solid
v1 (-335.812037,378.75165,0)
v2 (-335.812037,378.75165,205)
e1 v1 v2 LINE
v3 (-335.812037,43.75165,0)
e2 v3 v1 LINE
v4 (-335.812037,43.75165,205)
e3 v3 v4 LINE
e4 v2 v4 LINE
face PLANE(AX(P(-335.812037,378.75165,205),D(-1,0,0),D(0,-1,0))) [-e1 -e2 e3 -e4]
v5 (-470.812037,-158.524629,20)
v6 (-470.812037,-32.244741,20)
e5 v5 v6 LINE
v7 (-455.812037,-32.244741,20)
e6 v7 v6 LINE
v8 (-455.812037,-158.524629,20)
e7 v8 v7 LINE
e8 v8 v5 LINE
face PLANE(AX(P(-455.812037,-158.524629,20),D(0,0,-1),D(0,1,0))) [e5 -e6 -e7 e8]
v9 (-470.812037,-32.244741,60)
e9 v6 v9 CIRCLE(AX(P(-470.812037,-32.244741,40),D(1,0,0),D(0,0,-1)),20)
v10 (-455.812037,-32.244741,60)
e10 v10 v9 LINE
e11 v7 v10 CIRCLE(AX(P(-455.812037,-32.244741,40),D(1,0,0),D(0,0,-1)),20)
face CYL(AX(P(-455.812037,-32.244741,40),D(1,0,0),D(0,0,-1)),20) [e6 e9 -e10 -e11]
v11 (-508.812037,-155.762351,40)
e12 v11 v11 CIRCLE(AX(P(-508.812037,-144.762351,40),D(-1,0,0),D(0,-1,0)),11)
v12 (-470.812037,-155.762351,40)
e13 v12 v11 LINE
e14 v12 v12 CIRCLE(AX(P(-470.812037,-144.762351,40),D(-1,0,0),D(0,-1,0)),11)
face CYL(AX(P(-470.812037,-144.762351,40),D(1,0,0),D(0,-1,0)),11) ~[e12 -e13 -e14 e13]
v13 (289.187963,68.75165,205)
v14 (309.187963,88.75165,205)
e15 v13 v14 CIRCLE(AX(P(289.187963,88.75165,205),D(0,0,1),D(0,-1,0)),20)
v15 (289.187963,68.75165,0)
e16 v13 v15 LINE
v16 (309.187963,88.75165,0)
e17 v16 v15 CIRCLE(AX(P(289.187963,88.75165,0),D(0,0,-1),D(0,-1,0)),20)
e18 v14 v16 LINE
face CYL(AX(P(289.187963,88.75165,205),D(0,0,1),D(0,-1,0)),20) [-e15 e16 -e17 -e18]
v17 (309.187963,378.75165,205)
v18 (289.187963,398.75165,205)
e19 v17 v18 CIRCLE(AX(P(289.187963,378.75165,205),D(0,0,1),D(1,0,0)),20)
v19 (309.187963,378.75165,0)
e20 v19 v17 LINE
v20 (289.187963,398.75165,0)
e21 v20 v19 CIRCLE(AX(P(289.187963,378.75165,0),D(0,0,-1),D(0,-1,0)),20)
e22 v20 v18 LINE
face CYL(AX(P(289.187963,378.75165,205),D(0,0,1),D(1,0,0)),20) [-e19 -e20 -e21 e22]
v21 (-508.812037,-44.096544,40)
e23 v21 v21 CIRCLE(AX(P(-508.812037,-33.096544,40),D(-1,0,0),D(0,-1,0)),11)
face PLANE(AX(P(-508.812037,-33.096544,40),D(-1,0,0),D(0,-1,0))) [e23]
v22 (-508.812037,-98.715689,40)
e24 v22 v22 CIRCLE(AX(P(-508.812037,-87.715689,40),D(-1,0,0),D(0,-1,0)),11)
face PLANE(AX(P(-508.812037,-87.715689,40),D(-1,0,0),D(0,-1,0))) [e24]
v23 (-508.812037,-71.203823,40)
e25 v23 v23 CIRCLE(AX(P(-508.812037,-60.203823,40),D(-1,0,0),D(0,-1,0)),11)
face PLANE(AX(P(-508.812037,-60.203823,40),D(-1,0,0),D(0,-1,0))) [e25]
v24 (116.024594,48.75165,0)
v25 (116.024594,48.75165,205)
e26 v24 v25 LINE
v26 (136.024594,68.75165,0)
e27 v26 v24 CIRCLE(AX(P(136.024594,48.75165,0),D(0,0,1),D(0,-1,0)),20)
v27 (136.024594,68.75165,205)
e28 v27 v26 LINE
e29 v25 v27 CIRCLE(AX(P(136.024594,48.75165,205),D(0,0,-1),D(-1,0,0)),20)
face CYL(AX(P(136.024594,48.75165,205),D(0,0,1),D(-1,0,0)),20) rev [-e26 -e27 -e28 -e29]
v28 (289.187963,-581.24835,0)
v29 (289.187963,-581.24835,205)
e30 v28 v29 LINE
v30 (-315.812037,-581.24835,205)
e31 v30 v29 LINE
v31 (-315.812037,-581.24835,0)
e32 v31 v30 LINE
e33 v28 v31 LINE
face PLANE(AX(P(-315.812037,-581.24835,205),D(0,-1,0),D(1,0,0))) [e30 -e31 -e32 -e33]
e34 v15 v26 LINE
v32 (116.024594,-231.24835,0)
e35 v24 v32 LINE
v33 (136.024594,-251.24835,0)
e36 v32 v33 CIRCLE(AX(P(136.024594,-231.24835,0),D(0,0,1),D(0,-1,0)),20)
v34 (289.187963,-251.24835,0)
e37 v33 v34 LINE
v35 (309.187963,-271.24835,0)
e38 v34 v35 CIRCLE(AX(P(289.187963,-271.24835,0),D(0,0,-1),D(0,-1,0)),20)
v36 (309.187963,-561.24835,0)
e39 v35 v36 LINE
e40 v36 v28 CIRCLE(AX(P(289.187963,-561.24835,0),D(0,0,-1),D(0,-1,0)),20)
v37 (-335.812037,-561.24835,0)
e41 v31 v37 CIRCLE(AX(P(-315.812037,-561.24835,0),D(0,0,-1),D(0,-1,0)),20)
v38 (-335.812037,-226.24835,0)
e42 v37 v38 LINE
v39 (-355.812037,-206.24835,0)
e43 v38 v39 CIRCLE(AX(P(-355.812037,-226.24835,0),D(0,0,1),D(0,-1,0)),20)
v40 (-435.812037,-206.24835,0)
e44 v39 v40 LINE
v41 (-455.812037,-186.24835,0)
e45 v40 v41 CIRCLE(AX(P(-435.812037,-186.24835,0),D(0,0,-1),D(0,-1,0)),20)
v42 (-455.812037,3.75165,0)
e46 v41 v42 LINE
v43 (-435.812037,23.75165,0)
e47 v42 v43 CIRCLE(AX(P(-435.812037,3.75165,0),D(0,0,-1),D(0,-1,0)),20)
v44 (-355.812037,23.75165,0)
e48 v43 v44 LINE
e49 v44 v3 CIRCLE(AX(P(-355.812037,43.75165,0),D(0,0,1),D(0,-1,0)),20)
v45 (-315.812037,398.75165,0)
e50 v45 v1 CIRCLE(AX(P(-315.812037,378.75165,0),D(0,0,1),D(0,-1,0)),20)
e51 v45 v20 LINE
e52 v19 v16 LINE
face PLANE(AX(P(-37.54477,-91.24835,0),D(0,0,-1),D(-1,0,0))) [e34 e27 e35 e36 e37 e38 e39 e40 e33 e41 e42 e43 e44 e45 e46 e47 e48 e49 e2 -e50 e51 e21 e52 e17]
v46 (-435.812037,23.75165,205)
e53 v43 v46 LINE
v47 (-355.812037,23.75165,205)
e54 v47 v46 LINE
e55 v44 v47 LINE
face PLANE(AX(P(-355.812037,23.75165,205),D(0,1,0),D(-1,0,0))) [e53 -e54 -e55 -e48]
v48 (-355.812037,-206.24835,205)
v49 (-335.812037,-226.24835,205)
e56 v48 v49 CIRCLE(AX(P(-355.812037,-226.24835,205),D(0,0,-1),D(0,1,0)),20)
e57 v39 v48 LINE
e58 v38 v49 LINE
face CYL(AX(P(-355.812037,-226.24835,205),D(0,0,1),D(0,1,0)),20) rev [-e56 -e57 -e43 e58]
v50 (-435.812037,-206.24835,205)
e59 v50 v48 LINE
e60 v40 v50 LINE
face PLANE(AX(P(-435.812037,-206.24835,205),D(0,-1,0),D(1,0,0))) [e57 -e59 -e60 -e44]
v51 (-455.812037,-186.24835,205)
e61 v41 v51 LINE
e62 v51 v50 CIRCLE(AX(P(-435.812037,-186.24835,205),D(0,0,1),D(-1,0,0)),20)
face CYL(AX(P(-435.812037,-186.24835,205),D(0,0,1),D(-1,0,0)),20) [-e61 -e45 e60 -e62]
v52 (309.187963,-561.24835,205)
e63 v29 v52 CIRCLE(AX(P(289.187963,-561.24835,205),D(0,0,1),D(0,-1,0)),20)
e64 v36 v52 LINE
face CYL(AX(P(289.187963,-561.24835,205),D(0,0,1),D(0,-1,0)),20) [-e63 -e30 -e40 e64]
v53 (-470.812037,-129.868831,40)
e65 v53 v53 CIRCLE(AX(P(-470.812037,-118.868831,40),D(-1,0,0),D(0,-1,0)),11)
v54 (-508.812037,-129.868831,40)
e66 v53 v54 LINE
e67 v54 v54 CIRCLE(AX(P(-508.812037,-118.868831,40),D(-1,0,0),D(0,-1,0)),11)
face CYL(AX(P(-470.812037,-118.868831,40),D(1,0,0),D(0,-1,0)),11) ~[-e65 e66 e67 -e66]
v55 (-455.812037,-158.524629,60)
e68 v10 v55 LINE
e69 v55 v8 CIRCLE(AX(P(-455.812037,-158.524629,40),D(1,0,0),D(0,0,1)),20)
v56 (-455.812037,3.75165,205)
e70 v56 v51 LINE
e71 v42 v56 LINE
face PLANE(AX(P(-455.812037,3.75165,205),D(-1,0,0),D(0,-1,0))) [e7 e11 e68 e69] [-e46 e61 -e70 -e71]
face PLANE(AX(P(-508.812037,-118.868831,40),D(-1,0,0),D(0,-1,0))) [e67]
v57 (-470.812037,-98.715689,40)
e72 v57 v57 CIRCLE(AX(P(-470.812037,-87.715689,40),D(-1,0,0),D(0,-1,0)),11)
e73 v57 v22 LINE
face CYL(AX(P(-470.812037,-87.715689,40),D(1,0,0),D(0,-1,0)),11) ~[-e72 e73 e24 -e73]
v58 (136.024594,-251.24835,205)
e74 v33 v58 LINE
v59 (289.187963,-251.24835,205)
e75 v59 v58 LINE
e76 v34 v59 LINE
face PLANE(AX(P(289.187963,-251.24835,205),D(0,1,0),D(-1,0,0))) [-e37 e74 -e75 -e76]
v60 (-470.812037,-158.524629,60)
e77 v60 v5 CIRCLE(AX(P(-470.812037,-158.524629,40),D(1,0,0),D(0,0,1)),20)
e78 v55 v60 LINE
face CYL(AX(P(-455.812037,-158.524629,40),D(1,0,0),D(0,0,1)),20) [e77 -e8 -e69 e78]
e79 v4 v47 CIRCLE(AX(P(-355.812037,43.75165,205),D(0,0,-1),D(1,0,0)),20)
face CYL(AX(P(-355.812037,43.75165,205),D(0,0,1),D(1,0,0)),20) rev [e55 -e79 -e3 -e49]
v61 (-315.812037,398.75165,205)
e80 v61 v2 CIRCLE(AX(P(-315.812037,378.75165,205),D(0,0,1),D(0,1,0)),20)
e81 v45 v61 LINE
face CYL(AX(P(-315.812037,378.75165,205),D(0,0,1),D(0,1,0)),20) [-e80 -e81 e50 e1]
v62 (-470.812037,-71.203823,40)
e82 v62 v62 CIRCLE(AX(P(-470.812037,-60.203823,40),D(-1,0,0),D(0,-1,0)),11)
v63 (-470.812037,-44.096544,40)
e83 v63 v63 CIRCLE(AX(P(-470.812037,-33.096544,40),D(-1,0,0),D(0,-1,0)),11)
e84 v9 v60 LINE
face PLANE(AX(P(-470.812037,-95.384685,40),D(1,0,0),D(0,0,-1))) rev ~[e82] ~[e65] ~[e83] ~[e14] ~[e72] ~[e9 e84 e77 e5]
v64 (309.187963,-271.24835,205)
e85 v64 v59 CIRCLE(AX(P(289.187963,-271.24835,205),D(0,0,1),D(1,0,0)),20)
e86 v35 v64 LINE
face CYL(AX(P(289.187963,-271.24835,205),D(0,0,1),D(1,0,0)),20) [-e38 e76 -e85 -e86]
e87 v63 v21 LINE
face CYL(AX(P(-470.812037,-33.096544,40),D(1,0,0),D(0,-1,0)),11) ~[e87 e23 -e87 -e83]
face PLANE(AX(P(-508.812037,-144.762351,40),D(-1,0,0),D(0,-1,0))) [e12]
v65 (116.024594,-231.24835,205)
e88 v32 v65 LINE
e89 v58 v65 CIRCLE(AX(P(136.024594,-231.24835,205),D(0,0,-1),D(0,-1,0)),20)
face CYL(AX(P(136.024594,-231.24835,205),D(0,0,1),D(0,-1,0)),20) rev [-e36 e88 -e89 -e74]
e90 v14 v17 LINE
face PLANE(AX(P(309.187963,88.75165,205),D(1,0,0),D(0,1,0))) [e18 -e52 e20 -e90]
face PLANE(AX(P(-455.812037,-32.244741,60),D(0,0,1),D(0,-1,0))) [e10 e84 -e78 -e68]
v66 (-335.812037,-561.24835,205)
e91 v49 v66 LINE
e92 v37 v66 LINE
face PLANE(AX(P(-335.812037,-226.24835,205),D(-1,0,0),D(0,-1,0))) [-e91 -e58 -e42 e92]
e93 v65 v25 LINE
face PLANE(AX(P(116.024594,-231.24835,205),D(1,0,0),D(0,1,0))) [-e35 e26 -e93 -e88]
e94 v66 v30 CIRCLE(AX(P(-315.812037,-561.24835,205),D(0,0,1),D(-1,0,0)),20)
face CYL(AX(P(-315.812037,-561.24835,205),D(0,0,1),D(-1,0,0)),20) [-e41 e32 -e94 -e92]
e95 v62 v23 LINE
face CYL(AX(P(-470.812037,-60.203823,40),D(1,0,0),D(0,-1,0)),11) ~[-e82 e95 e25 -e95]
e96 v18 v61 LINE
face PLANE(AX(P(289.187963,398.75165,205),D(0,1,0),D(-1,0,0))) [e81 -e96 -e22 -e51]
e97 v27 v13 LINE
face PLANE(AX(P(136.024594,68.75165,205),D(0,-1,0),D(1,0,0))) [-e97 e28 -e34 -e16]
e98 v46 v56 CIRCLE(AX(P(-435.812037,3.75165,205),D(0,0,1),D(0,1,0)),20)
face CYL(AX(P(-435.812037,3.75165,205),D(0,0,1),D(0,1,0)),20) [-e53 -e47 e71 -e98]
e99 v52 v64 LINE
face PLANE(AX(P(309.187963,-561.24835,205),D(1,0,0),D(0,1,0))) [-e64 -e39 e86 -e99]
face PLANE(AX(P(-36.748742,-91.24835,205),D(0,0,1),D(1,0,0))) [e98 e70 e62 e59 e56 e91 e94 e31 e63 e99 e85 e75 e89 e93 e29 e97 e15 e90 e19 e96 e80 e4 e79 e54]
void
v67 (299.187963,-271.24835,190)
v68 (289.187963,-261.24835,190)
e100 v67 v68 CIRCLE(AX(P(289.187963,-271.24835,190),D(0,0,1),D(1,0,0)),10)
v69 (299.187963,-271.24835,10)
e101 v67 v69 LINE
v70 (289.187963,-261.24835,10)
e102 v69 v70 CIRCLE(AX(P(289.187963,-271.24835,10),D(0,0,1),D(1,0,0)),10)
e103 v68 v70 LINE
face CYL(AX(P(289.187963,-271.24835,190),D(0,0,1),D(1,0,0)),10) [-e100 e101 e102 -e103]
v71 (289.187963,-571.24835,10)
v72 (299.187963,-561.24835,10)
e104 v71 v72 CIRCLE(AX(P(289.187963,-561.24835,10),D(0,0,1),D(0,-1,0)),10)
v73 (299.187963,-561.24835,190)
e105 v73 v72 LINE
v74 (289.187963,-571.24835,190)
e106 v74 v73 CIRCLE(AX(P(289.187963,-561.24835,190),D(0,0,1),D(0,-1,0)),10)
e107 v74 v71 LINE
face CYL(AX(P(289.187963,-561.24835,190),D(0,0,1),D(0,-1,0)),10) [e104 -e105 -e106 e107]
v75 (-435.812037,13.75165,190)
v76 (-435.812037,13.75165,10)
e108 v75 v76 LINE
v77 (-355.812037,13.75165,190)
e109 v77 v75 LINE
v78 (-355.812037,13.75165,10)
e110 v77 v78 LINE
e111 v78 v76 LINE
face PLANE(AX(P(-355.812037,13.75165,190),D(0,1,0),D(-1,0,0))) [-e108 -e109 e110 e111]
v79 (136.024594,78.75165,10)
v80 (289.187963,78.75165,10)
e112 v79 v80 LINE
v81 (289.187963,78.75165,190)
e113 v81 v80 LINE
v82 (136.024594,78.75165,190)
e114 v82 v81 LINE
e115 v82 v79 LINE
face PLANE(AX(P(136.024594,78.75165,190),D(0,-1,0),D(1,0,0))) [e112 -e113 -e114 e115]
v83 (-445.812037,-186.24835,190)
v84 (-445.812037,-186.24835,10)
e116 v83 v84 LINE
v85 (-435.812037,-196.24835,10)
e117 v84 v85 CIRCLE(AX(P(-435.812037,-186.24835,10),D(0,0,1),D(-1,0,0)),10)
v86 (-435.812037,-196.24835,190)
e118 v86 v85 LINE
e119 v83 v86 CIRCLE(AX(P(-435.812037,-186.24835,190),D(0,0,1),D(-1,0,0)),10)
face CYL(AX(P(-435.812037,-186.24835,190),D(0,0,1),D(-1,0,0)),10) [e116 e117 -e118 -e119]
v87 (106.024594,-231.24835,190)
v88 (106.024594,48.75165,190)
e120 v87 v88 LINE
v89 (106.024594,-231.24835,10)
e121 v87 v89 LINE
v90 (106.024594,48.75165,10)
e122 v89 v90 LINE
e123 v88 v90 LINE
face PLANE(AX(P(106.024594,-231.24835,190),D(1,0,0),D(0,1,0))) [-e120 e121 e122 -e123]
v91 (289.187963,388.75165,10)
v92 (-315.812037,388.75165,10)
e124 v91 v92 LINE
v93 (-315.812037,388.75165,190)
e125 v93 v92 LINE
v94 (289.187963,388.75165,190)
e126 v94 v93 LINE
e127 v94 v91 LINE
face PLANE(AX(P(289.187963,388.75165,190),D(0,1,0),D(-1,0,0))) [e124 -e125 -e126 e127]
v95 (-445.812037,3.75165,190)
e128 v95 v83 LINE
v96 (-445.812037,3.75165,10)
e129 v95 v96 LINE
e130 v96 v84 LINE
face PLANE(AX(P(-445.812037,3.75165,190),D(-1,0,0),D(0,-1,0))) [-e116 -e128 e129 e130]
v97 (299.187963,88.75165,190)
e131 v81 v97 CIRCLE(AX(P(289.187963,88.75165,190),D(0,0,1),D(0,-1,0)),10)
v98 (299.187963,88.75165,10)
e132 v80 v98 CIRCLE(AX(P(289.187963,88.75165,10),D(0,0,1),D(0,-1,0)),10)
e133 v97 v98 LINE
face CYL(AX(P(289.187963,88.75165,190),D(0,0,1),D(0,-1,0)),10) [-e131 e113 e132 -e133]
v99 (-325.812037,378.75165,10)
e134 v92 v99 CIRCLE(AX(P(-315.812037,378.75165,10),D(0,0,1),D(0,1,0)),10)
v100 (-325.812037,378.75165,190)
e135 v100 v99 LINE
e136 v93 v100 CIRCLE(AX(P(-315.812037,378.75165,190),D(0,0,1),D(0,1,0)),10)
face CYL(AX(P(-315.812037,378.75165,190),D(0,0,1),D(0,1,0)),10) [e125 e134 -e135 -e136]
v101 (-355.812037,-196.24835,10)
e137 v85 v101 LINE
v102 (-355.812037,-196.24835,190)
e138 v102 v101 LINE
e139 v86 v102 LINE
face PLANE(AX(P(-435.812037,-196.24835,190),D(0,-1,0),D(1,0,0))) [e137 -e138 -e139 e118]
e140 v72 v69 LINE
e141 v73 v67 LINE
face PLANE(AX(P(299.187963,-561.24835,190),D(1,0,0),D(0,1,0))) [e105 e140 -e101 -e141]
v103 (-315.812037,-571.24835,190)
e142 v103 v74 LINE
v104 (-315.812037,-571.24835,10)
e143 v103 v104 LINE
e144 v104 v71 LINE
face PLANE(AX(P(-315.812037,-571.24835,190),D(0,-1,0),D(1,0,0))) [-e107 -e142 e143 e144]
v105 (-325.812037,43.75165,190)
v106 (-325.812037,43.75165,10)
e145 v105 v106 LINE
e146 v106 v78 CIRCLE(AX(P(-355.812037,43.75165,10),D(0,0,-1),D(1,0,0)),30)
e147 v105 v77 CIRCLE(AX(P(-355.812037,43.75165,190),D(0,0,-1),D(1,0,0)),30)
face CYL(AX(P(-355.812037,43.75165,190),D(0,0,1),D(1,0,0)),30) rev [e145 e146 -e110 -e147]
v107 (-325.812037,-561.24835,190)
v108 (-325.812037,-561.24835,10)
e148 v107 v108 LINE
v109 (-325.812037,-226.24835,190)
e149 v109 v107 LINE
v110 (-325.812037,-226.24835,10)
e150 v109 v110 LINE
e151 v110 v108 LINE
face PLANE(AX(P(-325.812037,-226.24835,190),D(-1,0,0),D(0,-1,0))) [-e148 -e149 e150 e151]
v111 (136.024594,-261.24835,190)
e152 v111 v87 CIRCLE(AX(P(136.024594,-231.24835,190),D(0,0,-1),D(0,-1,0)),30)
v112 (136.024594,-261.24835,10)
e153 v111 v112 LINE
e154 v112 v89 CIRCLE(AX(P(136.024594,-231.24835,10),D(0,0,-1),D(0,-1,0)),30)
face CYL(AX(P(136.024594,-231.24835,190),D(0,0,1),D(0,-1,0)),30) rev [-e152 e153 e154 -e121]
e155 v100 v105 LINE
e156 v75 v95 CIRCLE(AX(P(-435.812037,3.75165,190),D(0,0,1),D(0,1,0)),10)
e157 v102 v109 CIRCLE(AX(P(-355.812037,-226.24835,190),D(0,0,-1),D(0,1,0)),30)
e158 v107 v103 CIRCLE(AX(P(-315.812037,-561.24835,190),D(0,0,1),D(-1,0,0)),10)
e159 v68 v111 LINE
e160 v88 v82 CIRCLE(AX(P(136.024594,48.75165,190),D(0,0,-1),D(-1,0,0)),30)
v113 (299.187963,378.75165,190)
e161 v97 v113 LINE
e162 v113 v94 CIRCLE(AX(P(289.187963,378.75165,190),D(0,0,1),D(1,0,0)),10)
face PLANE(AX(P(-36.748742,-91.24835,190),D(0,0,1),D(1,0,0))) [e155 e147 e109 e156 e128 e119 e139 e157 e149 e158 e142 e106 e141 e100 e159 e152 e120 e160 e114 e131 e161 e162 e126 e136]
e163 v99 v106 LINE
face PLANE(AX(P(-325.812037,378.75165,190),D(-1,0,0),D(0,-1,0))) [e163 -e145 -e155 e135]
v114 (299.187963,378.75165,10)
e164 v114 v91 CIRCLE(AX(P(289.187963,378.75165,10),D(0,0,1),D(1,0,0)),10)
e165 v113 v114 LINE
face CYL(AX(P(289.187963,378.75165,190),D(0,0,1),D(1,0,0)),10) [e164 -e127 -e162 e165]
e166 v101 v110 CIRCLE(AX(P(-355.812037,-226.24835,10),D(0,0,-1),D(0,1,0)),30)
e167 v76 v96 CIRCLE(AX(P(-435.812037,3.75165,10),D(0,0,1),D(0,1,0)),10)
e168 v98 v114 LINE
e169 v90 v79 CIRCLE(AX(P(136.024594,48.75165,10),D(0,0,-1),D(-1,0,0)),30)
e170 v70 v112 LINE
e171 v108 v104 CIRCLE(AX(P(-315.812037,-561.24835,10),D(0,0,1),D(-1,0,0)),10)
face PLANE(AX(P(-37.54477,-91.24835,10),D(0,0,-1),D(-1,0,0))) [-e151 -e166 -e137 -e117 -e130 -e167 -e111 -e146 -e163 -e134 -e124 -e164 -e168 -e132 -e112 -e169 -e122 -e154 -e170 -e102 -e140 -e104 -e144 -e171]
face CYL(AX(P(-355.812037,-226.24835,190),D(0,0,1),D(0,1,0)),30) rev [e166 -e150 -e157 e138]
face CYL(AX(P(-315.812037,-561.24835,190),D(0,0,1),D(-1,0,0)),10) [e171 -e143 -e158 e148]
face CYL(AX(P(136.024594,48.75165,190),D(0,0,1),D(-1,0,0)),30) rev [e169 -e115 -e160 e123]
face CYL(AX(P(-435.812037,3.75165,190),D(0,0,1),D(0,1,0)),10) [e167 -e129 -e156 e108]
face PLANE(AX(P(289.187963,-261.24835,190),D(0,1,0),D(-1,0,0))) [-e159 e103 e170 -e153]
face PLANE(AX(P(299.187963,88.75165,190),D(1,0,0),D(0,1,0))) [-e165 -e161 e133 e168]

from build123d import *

# Parameters (mm, degrees)
BOSS_EXTRUDE1_DEPTH = 10
FILLET1_R           = 20
BOSS_EXTRUDE2_START = 180
BOSS_EXTRUDE2_DEPTH = 180
BOSS_EXTRUDE3_START = 15
BOSS_EXTRUDE3_DEPTH = 15
BOSS_EXTRUDE4_DEPTH = 15
BOSS_EXTRUDE5_START = 15
SKETCH4_3_R         = 11
BOSS_EXTRUDE5_DEPTH = 38


with BuildPart() as part:
    # Sketch1 → Boss-Extrude1 (new body)
    with BuildSketch(Plane.XY):
        Polygon((-335.812036678, 398.75165032), (309.187963322, 398.75165032), (309.187963322, 68.75165032), (116.024594022, 68.75165032), (116.024594022, -251.24834968), (309.187963322, -251.24834968), (309.187963322, -581.24834968), (-335.812036678, -581.24834968), (-335.812036678, -206.24834968), (-455.812036678, -206.24834968), (-455.812036678, 23.75165032), (-335.812036678, 23.75165032), align=None)
    extrude(amount=BOSS_EXTRUDE1_DEPTH)

    # Fillet1
    fillet1_edges = [part.edges().sort_by_distance(p)[0] for p in [
        (-335.812036678, -206.24834968, 5),
        (-455.812036678, -206.24834968, 5),
        (-455.812036678, 23.75165032, 5),
        (-335.812036678, 23.75165032, 5),
        (-335.812036678, 398.75165032, 5),
        (309.187963322, 398.75165032, 5),
        (309.187963322, 68.75165032, 5),
        (116.024594022, 68.75165032, 5),
        (116.024594022, -251.24834968, 5),
        (309.187963322, -251.24834968, 5),
        (309.187963322, -581.24834968, 5),
        (-335.812036678, -581.24834968, 5),
    ]]
    fillet(fillet1_edges, radius=FILLET1_R)

    # Sketch2 → Boss-Extrude2 (add)
    with BuildSketch(Plane.XY.offset(10).offset(BOSS_EXTRUDE2_START)):
        with BuildLine():
            Line((309.187963322, 88.75165032), (309.187963322, 378.75165032))
            ThreePointArc((309.187963322, 378.75165032), (303.330098945, 392.893785944), (289.187963322, 398.75165032))
            Line((289.187963322, 398.75165032), (-315.812036678, 398.75165032))
            ThreePointArc((-315.812036678, 398.75165032), (-329.954172302, 392.893785944), (-335.812036678, 378.75165032))
            Line((-335.812036678, 378.75165032), (-335.812036678, 43.75165032))
            ThreePointArc((-335.812036678, 43.75165032), (-341.669901055, 29.609514696), (-355.812036678, 23.75165032))
            Line((-355.812036678, 23.75165032), (-435.812036678, 23.75165032))
            ThreePointArc((-435.812036678, 23.75165032), (-449.954172302, 17.893785944), (-455.812036678, 3.75165032))
            Line((-455.812036678, 3.75165032), (-455.812036678, -186.24834968))
            ThreePointArc((-455.812036678, -186.24834968), (-449.954172302, -200.390485304), (-435.812036678, -206.24834968))
            Line((-435.812036678, -206.24834968), (-355.812036678, -206.24834968))
            ThreePointArc((-355.812036678, -206.24834968), (-341.669901055, -212.106214056), (-335.812036678, -226.24834968))
            Line((-335.812036678, -226.24834968), (-335.812036678, -561.24834968))
            ThreePointArc((-335.812036678, -561.24834968), (-329.954172302, -575.390485304), (-315.812036678, -581.24834968))
            Line((-315.812036678, -581.24834968), (289.187963322, -581.24834968))
            ThreePointArc((289.187963322, -581.24834968), (303.330098945, -575.390485304), (309.187963322, -561.24834968))
            Line((309.187963322, -561.24834968), (309.187963322, -271.24834968))
            ThreePointArc((309.187963322, -271.24834968), (303.330098945, -257.106214056), (289.187963322, -251.24834968))
            Line((289.187963322, -251.24834968), (136.024594022, -251.24834968))
            ThreePointArc((136.024594022, -251.24834968), (121.882458398, -245.390485304), (116.024594022, -231.24834968))
            Line((116.024594022, -231.24834968), (116.024594022, 48.75165032))
            ThreePointArc((116.024594022, 48.75165032), (121.882458398, 62.893785944), (136.024594022, 68.75165032))
            Line((136.024594022, 68.75165032), (289.187963322, 68.75165032))
            ThreePointArc((289.187963322, 68.75165032), (303.330098945, 74.609514696), (309.187963322, 88.75165032))
        make_face()
        with BuildLine():
            Line((299.187963322, 88.75165032), (299.187963322, 378.75165032))
            ThreePointArc((299.187963322, 378.75165032), (296.259031134, 385.822718132), (289.187963322, 388.75165032))
            Line((289.187963322, 388.75165032), (-315.812036678, 388.75165032))
            ThreePointArc((-315.812036678, 388.75165032), (-322.88310449, 385.822718132), (-325.812036678, 378.75165032))
            Line((-325.812036678, 378.75165032), (-325.812036678, 43.75165032))
            ThreePointArc((-325.812036678, 43.75165032), (-334.598833243, 22.538446884), (-355.812036678, 13.75165032))
            Line((-355.812036678, 13.75165032), (-435.812036678, 13.75165032))
            ThreePointArc((-435.812036678, 13.75165032), (-442.88310449, 10.822718132), (-445.812036678, 3.75165032))
            Line((-445.812036678, 3.75165032), (-445.812036678, -186.24834968))
            ThreePointArc((-445.812036678, -186.24834968), (-442.88310449, -193.319417492), (-435.812036678, -196.24834968))
            Line((-435.812036678, -196.24834968), (-355.812036678, -196.24834968))
            ThreePointArc((-355.812036678, -196.24834968), (-334.598833243, -205.035146245), (-325.812036678, -226.24834968))
            Line((-325.812036678, -226.24834968), (-325.812036678, -561.24834968))
            ThreePointArc((-325.812036678, -561.24834968), (-322.88310449, -568.319417492), (-315.812036678, -571.24834968))
            Line((-315.812036678, -571.24834968), (289.187963322, -571.24834968))
            ThreePointArc((289.187963322, -571.24834968), (296.259031134, -568.319417492), (299.187963322, -561.24834968))
            Line((299.187963322, -561.24834968), (299.187963322, -271.24834968))
            ThreePointArc((299.187963322, -271.24834968), (296.259031134, -264.177281868), (289.187963322, -261.24834968))
            Line((289.187963322, -261.24834968), (136.024594022, -261.24834968))
            ThreePointArc((136.024594022, -261.24834968), (114.811390587, -252.461553116), (106.024594022, -231.24834968))
            Line((106.024594022, -231.24834968), (106.024594022, 48.75165032))
            ThreePointArc((106.024594022, 48.75165032), (114.811390587, 69.964853755), (136.024594022, 78.75165032))
            Line((136.024594022, 78.75165032), (289.187963322, 78.75165032))
            ThreePointArc((289.187963322, 78.75165032), (296.259031134, 81.680582508), (299.187963322, 88.75165032))
        make_face(mode=Mode.SUBTRACT)
    extrude(amount=-BOSS_EXTRUDE2_DEPTH)

    # Sketch3 → Boss-Extrude3 (add)
    with BuildSketch(Plane.XY.offset(190).offset(BOSS_EXTRUDE3_START)):
        with BuildLine():
            Line((309.187963322, 88.75165032), (309.187963322, 378.75165032))
            ThreePointArc((309.187963322, 378.75165032), (303.330098945, 392.893785944), (289.187963322, 398.75165032))
            Line((289.187963322, 398.75165032), (-315.812036678, 398.75165032))
            ThreePointArc((-315.812036678, 398.75165032), (-329.954172302, 392.893785944), (-335.812036678, 378.75165032))
            Line((-335.812036678, 378.75165032), (-335.812036678, 43.75165032))
            ThreePointArc((-335.812036678, 43.75165032), (-341.669901055, 29.609514696), (-355.812036678, 23.75165032))
            Line((-355.812036678, 23.75165032), (-435.812036678, 23.75165032))
            ThreePointArc((-435.812036678, 23.75165032), (-449.954172302, 17.893785944), (-455.812036678, 3.75165032))
            Line((-455.812036678, 3.75165032), (-455.812036678, -186.24834968))
            ThreePointArc((-455.812036678, -186.24834968), (-449.954172302, -200.390485304), (-435.812036678, -206.24834968))
            Line((-435.812036678, -206.24834968), (-355.812036678, -206.24834968))
            ThreePointArc((-355.812036678, -206.24834968), (-341.669901055, -212.106214056), (-335.812036678, -226.24834968))
            Line((-335.812036678, -226.24834968), (-335.812036678, -561.24834968))
            ThreePointArc((-335.812036678, -561.24834968), (-329.954172302, -575.390485304), (-315.812036678, -581.24834968))
            Line((-315.812036678, -581.24834968), (289.187963322, -581.24834968))
            ThreePointArc((289.187963322, -581.24834968), (303.330098945, -575.390485304), (309.187963322, -561.24834968))
            Line((309.187963322, -561.24834968), (309.187963322, -271.24834968))
            ThreePointArc((309.187963322, -271.24834968), (303.330098945, -257.106214056), (289.187963322, -251.24834968))
            Line((289.187963322, -251.24834968), (136.024594022, -251.24834968))
            ThreePointArc((136.024594022, -251.24834968), (121.882458398, -245.390485304), (116.024594022, -231.24834968))
            Line((116.024594022, -231.24834968), (116.024594022, 48.75165032))
            ThreePointArc((116.024594022, 48.75165032), (121.882458398, 62.893785944), (136.024594022, 68.75165032))
            Line((136.024594022, 68.75165032), (289.187963322, 68.75165032))
            ThreePointArc((289.187963322, 68.75165032), (303.330098945, 74.609514696), (309.187963322, 88.75165032))
        make_face()
    extrude(amount=-BOSS_EXTRUDE3_DEPTH)

    # Sketch4 → Boss-Extrude4 (add)
    with BuildSketch(Plane.ZY.offset(455.812036678)):
        with BuildLine():
            Line((60, -32.244741311), (60, -158.524628982))
            ThreePointArc((60, -158.524628982), (40, -178.524628982), (20, -158.524628982))
            Line((20, -158.524628982), (20, -32.244741311))
            ThreePointArc((20, -32.244741311), (40, -12.244741311), (60, -32.244741311))
        make_face()
    extrude(amount=BOSS_EXTRUDE4_DEPTH)

    # Sketch4<3> → Boss-Extrude5 (add)
    with BuildSketch(Plane.ZY.offset(455.812036678).offset(BOSS_EXTRUDE5_START)):
        with Locations(Location((40, -144.762351153, 0), (0, 0, 270))):
            Circle(SKETCH4_3_R)
        with Locations(Location((40, -118.868830691, 0), (0, 0, 270))):
            Circle(SKETCH4_3_R)
        with Locations(Location((40, -87.715688885, 0), (0, 0, 270))):
            Circle(SKETCH4_3_R)
        with Locations(Location((40, -60.203823394, 0), (0, 0, 270))):
            Circle(SKETCH4_3_R)
        with Locations(Location((40, -33.09654416, 0), (0, 0, 270))):
            Circle(SKETCH4_3_R)
    extrude(amount=BOSS_EXTRUDE5_DEPTH)


solid = part.part
